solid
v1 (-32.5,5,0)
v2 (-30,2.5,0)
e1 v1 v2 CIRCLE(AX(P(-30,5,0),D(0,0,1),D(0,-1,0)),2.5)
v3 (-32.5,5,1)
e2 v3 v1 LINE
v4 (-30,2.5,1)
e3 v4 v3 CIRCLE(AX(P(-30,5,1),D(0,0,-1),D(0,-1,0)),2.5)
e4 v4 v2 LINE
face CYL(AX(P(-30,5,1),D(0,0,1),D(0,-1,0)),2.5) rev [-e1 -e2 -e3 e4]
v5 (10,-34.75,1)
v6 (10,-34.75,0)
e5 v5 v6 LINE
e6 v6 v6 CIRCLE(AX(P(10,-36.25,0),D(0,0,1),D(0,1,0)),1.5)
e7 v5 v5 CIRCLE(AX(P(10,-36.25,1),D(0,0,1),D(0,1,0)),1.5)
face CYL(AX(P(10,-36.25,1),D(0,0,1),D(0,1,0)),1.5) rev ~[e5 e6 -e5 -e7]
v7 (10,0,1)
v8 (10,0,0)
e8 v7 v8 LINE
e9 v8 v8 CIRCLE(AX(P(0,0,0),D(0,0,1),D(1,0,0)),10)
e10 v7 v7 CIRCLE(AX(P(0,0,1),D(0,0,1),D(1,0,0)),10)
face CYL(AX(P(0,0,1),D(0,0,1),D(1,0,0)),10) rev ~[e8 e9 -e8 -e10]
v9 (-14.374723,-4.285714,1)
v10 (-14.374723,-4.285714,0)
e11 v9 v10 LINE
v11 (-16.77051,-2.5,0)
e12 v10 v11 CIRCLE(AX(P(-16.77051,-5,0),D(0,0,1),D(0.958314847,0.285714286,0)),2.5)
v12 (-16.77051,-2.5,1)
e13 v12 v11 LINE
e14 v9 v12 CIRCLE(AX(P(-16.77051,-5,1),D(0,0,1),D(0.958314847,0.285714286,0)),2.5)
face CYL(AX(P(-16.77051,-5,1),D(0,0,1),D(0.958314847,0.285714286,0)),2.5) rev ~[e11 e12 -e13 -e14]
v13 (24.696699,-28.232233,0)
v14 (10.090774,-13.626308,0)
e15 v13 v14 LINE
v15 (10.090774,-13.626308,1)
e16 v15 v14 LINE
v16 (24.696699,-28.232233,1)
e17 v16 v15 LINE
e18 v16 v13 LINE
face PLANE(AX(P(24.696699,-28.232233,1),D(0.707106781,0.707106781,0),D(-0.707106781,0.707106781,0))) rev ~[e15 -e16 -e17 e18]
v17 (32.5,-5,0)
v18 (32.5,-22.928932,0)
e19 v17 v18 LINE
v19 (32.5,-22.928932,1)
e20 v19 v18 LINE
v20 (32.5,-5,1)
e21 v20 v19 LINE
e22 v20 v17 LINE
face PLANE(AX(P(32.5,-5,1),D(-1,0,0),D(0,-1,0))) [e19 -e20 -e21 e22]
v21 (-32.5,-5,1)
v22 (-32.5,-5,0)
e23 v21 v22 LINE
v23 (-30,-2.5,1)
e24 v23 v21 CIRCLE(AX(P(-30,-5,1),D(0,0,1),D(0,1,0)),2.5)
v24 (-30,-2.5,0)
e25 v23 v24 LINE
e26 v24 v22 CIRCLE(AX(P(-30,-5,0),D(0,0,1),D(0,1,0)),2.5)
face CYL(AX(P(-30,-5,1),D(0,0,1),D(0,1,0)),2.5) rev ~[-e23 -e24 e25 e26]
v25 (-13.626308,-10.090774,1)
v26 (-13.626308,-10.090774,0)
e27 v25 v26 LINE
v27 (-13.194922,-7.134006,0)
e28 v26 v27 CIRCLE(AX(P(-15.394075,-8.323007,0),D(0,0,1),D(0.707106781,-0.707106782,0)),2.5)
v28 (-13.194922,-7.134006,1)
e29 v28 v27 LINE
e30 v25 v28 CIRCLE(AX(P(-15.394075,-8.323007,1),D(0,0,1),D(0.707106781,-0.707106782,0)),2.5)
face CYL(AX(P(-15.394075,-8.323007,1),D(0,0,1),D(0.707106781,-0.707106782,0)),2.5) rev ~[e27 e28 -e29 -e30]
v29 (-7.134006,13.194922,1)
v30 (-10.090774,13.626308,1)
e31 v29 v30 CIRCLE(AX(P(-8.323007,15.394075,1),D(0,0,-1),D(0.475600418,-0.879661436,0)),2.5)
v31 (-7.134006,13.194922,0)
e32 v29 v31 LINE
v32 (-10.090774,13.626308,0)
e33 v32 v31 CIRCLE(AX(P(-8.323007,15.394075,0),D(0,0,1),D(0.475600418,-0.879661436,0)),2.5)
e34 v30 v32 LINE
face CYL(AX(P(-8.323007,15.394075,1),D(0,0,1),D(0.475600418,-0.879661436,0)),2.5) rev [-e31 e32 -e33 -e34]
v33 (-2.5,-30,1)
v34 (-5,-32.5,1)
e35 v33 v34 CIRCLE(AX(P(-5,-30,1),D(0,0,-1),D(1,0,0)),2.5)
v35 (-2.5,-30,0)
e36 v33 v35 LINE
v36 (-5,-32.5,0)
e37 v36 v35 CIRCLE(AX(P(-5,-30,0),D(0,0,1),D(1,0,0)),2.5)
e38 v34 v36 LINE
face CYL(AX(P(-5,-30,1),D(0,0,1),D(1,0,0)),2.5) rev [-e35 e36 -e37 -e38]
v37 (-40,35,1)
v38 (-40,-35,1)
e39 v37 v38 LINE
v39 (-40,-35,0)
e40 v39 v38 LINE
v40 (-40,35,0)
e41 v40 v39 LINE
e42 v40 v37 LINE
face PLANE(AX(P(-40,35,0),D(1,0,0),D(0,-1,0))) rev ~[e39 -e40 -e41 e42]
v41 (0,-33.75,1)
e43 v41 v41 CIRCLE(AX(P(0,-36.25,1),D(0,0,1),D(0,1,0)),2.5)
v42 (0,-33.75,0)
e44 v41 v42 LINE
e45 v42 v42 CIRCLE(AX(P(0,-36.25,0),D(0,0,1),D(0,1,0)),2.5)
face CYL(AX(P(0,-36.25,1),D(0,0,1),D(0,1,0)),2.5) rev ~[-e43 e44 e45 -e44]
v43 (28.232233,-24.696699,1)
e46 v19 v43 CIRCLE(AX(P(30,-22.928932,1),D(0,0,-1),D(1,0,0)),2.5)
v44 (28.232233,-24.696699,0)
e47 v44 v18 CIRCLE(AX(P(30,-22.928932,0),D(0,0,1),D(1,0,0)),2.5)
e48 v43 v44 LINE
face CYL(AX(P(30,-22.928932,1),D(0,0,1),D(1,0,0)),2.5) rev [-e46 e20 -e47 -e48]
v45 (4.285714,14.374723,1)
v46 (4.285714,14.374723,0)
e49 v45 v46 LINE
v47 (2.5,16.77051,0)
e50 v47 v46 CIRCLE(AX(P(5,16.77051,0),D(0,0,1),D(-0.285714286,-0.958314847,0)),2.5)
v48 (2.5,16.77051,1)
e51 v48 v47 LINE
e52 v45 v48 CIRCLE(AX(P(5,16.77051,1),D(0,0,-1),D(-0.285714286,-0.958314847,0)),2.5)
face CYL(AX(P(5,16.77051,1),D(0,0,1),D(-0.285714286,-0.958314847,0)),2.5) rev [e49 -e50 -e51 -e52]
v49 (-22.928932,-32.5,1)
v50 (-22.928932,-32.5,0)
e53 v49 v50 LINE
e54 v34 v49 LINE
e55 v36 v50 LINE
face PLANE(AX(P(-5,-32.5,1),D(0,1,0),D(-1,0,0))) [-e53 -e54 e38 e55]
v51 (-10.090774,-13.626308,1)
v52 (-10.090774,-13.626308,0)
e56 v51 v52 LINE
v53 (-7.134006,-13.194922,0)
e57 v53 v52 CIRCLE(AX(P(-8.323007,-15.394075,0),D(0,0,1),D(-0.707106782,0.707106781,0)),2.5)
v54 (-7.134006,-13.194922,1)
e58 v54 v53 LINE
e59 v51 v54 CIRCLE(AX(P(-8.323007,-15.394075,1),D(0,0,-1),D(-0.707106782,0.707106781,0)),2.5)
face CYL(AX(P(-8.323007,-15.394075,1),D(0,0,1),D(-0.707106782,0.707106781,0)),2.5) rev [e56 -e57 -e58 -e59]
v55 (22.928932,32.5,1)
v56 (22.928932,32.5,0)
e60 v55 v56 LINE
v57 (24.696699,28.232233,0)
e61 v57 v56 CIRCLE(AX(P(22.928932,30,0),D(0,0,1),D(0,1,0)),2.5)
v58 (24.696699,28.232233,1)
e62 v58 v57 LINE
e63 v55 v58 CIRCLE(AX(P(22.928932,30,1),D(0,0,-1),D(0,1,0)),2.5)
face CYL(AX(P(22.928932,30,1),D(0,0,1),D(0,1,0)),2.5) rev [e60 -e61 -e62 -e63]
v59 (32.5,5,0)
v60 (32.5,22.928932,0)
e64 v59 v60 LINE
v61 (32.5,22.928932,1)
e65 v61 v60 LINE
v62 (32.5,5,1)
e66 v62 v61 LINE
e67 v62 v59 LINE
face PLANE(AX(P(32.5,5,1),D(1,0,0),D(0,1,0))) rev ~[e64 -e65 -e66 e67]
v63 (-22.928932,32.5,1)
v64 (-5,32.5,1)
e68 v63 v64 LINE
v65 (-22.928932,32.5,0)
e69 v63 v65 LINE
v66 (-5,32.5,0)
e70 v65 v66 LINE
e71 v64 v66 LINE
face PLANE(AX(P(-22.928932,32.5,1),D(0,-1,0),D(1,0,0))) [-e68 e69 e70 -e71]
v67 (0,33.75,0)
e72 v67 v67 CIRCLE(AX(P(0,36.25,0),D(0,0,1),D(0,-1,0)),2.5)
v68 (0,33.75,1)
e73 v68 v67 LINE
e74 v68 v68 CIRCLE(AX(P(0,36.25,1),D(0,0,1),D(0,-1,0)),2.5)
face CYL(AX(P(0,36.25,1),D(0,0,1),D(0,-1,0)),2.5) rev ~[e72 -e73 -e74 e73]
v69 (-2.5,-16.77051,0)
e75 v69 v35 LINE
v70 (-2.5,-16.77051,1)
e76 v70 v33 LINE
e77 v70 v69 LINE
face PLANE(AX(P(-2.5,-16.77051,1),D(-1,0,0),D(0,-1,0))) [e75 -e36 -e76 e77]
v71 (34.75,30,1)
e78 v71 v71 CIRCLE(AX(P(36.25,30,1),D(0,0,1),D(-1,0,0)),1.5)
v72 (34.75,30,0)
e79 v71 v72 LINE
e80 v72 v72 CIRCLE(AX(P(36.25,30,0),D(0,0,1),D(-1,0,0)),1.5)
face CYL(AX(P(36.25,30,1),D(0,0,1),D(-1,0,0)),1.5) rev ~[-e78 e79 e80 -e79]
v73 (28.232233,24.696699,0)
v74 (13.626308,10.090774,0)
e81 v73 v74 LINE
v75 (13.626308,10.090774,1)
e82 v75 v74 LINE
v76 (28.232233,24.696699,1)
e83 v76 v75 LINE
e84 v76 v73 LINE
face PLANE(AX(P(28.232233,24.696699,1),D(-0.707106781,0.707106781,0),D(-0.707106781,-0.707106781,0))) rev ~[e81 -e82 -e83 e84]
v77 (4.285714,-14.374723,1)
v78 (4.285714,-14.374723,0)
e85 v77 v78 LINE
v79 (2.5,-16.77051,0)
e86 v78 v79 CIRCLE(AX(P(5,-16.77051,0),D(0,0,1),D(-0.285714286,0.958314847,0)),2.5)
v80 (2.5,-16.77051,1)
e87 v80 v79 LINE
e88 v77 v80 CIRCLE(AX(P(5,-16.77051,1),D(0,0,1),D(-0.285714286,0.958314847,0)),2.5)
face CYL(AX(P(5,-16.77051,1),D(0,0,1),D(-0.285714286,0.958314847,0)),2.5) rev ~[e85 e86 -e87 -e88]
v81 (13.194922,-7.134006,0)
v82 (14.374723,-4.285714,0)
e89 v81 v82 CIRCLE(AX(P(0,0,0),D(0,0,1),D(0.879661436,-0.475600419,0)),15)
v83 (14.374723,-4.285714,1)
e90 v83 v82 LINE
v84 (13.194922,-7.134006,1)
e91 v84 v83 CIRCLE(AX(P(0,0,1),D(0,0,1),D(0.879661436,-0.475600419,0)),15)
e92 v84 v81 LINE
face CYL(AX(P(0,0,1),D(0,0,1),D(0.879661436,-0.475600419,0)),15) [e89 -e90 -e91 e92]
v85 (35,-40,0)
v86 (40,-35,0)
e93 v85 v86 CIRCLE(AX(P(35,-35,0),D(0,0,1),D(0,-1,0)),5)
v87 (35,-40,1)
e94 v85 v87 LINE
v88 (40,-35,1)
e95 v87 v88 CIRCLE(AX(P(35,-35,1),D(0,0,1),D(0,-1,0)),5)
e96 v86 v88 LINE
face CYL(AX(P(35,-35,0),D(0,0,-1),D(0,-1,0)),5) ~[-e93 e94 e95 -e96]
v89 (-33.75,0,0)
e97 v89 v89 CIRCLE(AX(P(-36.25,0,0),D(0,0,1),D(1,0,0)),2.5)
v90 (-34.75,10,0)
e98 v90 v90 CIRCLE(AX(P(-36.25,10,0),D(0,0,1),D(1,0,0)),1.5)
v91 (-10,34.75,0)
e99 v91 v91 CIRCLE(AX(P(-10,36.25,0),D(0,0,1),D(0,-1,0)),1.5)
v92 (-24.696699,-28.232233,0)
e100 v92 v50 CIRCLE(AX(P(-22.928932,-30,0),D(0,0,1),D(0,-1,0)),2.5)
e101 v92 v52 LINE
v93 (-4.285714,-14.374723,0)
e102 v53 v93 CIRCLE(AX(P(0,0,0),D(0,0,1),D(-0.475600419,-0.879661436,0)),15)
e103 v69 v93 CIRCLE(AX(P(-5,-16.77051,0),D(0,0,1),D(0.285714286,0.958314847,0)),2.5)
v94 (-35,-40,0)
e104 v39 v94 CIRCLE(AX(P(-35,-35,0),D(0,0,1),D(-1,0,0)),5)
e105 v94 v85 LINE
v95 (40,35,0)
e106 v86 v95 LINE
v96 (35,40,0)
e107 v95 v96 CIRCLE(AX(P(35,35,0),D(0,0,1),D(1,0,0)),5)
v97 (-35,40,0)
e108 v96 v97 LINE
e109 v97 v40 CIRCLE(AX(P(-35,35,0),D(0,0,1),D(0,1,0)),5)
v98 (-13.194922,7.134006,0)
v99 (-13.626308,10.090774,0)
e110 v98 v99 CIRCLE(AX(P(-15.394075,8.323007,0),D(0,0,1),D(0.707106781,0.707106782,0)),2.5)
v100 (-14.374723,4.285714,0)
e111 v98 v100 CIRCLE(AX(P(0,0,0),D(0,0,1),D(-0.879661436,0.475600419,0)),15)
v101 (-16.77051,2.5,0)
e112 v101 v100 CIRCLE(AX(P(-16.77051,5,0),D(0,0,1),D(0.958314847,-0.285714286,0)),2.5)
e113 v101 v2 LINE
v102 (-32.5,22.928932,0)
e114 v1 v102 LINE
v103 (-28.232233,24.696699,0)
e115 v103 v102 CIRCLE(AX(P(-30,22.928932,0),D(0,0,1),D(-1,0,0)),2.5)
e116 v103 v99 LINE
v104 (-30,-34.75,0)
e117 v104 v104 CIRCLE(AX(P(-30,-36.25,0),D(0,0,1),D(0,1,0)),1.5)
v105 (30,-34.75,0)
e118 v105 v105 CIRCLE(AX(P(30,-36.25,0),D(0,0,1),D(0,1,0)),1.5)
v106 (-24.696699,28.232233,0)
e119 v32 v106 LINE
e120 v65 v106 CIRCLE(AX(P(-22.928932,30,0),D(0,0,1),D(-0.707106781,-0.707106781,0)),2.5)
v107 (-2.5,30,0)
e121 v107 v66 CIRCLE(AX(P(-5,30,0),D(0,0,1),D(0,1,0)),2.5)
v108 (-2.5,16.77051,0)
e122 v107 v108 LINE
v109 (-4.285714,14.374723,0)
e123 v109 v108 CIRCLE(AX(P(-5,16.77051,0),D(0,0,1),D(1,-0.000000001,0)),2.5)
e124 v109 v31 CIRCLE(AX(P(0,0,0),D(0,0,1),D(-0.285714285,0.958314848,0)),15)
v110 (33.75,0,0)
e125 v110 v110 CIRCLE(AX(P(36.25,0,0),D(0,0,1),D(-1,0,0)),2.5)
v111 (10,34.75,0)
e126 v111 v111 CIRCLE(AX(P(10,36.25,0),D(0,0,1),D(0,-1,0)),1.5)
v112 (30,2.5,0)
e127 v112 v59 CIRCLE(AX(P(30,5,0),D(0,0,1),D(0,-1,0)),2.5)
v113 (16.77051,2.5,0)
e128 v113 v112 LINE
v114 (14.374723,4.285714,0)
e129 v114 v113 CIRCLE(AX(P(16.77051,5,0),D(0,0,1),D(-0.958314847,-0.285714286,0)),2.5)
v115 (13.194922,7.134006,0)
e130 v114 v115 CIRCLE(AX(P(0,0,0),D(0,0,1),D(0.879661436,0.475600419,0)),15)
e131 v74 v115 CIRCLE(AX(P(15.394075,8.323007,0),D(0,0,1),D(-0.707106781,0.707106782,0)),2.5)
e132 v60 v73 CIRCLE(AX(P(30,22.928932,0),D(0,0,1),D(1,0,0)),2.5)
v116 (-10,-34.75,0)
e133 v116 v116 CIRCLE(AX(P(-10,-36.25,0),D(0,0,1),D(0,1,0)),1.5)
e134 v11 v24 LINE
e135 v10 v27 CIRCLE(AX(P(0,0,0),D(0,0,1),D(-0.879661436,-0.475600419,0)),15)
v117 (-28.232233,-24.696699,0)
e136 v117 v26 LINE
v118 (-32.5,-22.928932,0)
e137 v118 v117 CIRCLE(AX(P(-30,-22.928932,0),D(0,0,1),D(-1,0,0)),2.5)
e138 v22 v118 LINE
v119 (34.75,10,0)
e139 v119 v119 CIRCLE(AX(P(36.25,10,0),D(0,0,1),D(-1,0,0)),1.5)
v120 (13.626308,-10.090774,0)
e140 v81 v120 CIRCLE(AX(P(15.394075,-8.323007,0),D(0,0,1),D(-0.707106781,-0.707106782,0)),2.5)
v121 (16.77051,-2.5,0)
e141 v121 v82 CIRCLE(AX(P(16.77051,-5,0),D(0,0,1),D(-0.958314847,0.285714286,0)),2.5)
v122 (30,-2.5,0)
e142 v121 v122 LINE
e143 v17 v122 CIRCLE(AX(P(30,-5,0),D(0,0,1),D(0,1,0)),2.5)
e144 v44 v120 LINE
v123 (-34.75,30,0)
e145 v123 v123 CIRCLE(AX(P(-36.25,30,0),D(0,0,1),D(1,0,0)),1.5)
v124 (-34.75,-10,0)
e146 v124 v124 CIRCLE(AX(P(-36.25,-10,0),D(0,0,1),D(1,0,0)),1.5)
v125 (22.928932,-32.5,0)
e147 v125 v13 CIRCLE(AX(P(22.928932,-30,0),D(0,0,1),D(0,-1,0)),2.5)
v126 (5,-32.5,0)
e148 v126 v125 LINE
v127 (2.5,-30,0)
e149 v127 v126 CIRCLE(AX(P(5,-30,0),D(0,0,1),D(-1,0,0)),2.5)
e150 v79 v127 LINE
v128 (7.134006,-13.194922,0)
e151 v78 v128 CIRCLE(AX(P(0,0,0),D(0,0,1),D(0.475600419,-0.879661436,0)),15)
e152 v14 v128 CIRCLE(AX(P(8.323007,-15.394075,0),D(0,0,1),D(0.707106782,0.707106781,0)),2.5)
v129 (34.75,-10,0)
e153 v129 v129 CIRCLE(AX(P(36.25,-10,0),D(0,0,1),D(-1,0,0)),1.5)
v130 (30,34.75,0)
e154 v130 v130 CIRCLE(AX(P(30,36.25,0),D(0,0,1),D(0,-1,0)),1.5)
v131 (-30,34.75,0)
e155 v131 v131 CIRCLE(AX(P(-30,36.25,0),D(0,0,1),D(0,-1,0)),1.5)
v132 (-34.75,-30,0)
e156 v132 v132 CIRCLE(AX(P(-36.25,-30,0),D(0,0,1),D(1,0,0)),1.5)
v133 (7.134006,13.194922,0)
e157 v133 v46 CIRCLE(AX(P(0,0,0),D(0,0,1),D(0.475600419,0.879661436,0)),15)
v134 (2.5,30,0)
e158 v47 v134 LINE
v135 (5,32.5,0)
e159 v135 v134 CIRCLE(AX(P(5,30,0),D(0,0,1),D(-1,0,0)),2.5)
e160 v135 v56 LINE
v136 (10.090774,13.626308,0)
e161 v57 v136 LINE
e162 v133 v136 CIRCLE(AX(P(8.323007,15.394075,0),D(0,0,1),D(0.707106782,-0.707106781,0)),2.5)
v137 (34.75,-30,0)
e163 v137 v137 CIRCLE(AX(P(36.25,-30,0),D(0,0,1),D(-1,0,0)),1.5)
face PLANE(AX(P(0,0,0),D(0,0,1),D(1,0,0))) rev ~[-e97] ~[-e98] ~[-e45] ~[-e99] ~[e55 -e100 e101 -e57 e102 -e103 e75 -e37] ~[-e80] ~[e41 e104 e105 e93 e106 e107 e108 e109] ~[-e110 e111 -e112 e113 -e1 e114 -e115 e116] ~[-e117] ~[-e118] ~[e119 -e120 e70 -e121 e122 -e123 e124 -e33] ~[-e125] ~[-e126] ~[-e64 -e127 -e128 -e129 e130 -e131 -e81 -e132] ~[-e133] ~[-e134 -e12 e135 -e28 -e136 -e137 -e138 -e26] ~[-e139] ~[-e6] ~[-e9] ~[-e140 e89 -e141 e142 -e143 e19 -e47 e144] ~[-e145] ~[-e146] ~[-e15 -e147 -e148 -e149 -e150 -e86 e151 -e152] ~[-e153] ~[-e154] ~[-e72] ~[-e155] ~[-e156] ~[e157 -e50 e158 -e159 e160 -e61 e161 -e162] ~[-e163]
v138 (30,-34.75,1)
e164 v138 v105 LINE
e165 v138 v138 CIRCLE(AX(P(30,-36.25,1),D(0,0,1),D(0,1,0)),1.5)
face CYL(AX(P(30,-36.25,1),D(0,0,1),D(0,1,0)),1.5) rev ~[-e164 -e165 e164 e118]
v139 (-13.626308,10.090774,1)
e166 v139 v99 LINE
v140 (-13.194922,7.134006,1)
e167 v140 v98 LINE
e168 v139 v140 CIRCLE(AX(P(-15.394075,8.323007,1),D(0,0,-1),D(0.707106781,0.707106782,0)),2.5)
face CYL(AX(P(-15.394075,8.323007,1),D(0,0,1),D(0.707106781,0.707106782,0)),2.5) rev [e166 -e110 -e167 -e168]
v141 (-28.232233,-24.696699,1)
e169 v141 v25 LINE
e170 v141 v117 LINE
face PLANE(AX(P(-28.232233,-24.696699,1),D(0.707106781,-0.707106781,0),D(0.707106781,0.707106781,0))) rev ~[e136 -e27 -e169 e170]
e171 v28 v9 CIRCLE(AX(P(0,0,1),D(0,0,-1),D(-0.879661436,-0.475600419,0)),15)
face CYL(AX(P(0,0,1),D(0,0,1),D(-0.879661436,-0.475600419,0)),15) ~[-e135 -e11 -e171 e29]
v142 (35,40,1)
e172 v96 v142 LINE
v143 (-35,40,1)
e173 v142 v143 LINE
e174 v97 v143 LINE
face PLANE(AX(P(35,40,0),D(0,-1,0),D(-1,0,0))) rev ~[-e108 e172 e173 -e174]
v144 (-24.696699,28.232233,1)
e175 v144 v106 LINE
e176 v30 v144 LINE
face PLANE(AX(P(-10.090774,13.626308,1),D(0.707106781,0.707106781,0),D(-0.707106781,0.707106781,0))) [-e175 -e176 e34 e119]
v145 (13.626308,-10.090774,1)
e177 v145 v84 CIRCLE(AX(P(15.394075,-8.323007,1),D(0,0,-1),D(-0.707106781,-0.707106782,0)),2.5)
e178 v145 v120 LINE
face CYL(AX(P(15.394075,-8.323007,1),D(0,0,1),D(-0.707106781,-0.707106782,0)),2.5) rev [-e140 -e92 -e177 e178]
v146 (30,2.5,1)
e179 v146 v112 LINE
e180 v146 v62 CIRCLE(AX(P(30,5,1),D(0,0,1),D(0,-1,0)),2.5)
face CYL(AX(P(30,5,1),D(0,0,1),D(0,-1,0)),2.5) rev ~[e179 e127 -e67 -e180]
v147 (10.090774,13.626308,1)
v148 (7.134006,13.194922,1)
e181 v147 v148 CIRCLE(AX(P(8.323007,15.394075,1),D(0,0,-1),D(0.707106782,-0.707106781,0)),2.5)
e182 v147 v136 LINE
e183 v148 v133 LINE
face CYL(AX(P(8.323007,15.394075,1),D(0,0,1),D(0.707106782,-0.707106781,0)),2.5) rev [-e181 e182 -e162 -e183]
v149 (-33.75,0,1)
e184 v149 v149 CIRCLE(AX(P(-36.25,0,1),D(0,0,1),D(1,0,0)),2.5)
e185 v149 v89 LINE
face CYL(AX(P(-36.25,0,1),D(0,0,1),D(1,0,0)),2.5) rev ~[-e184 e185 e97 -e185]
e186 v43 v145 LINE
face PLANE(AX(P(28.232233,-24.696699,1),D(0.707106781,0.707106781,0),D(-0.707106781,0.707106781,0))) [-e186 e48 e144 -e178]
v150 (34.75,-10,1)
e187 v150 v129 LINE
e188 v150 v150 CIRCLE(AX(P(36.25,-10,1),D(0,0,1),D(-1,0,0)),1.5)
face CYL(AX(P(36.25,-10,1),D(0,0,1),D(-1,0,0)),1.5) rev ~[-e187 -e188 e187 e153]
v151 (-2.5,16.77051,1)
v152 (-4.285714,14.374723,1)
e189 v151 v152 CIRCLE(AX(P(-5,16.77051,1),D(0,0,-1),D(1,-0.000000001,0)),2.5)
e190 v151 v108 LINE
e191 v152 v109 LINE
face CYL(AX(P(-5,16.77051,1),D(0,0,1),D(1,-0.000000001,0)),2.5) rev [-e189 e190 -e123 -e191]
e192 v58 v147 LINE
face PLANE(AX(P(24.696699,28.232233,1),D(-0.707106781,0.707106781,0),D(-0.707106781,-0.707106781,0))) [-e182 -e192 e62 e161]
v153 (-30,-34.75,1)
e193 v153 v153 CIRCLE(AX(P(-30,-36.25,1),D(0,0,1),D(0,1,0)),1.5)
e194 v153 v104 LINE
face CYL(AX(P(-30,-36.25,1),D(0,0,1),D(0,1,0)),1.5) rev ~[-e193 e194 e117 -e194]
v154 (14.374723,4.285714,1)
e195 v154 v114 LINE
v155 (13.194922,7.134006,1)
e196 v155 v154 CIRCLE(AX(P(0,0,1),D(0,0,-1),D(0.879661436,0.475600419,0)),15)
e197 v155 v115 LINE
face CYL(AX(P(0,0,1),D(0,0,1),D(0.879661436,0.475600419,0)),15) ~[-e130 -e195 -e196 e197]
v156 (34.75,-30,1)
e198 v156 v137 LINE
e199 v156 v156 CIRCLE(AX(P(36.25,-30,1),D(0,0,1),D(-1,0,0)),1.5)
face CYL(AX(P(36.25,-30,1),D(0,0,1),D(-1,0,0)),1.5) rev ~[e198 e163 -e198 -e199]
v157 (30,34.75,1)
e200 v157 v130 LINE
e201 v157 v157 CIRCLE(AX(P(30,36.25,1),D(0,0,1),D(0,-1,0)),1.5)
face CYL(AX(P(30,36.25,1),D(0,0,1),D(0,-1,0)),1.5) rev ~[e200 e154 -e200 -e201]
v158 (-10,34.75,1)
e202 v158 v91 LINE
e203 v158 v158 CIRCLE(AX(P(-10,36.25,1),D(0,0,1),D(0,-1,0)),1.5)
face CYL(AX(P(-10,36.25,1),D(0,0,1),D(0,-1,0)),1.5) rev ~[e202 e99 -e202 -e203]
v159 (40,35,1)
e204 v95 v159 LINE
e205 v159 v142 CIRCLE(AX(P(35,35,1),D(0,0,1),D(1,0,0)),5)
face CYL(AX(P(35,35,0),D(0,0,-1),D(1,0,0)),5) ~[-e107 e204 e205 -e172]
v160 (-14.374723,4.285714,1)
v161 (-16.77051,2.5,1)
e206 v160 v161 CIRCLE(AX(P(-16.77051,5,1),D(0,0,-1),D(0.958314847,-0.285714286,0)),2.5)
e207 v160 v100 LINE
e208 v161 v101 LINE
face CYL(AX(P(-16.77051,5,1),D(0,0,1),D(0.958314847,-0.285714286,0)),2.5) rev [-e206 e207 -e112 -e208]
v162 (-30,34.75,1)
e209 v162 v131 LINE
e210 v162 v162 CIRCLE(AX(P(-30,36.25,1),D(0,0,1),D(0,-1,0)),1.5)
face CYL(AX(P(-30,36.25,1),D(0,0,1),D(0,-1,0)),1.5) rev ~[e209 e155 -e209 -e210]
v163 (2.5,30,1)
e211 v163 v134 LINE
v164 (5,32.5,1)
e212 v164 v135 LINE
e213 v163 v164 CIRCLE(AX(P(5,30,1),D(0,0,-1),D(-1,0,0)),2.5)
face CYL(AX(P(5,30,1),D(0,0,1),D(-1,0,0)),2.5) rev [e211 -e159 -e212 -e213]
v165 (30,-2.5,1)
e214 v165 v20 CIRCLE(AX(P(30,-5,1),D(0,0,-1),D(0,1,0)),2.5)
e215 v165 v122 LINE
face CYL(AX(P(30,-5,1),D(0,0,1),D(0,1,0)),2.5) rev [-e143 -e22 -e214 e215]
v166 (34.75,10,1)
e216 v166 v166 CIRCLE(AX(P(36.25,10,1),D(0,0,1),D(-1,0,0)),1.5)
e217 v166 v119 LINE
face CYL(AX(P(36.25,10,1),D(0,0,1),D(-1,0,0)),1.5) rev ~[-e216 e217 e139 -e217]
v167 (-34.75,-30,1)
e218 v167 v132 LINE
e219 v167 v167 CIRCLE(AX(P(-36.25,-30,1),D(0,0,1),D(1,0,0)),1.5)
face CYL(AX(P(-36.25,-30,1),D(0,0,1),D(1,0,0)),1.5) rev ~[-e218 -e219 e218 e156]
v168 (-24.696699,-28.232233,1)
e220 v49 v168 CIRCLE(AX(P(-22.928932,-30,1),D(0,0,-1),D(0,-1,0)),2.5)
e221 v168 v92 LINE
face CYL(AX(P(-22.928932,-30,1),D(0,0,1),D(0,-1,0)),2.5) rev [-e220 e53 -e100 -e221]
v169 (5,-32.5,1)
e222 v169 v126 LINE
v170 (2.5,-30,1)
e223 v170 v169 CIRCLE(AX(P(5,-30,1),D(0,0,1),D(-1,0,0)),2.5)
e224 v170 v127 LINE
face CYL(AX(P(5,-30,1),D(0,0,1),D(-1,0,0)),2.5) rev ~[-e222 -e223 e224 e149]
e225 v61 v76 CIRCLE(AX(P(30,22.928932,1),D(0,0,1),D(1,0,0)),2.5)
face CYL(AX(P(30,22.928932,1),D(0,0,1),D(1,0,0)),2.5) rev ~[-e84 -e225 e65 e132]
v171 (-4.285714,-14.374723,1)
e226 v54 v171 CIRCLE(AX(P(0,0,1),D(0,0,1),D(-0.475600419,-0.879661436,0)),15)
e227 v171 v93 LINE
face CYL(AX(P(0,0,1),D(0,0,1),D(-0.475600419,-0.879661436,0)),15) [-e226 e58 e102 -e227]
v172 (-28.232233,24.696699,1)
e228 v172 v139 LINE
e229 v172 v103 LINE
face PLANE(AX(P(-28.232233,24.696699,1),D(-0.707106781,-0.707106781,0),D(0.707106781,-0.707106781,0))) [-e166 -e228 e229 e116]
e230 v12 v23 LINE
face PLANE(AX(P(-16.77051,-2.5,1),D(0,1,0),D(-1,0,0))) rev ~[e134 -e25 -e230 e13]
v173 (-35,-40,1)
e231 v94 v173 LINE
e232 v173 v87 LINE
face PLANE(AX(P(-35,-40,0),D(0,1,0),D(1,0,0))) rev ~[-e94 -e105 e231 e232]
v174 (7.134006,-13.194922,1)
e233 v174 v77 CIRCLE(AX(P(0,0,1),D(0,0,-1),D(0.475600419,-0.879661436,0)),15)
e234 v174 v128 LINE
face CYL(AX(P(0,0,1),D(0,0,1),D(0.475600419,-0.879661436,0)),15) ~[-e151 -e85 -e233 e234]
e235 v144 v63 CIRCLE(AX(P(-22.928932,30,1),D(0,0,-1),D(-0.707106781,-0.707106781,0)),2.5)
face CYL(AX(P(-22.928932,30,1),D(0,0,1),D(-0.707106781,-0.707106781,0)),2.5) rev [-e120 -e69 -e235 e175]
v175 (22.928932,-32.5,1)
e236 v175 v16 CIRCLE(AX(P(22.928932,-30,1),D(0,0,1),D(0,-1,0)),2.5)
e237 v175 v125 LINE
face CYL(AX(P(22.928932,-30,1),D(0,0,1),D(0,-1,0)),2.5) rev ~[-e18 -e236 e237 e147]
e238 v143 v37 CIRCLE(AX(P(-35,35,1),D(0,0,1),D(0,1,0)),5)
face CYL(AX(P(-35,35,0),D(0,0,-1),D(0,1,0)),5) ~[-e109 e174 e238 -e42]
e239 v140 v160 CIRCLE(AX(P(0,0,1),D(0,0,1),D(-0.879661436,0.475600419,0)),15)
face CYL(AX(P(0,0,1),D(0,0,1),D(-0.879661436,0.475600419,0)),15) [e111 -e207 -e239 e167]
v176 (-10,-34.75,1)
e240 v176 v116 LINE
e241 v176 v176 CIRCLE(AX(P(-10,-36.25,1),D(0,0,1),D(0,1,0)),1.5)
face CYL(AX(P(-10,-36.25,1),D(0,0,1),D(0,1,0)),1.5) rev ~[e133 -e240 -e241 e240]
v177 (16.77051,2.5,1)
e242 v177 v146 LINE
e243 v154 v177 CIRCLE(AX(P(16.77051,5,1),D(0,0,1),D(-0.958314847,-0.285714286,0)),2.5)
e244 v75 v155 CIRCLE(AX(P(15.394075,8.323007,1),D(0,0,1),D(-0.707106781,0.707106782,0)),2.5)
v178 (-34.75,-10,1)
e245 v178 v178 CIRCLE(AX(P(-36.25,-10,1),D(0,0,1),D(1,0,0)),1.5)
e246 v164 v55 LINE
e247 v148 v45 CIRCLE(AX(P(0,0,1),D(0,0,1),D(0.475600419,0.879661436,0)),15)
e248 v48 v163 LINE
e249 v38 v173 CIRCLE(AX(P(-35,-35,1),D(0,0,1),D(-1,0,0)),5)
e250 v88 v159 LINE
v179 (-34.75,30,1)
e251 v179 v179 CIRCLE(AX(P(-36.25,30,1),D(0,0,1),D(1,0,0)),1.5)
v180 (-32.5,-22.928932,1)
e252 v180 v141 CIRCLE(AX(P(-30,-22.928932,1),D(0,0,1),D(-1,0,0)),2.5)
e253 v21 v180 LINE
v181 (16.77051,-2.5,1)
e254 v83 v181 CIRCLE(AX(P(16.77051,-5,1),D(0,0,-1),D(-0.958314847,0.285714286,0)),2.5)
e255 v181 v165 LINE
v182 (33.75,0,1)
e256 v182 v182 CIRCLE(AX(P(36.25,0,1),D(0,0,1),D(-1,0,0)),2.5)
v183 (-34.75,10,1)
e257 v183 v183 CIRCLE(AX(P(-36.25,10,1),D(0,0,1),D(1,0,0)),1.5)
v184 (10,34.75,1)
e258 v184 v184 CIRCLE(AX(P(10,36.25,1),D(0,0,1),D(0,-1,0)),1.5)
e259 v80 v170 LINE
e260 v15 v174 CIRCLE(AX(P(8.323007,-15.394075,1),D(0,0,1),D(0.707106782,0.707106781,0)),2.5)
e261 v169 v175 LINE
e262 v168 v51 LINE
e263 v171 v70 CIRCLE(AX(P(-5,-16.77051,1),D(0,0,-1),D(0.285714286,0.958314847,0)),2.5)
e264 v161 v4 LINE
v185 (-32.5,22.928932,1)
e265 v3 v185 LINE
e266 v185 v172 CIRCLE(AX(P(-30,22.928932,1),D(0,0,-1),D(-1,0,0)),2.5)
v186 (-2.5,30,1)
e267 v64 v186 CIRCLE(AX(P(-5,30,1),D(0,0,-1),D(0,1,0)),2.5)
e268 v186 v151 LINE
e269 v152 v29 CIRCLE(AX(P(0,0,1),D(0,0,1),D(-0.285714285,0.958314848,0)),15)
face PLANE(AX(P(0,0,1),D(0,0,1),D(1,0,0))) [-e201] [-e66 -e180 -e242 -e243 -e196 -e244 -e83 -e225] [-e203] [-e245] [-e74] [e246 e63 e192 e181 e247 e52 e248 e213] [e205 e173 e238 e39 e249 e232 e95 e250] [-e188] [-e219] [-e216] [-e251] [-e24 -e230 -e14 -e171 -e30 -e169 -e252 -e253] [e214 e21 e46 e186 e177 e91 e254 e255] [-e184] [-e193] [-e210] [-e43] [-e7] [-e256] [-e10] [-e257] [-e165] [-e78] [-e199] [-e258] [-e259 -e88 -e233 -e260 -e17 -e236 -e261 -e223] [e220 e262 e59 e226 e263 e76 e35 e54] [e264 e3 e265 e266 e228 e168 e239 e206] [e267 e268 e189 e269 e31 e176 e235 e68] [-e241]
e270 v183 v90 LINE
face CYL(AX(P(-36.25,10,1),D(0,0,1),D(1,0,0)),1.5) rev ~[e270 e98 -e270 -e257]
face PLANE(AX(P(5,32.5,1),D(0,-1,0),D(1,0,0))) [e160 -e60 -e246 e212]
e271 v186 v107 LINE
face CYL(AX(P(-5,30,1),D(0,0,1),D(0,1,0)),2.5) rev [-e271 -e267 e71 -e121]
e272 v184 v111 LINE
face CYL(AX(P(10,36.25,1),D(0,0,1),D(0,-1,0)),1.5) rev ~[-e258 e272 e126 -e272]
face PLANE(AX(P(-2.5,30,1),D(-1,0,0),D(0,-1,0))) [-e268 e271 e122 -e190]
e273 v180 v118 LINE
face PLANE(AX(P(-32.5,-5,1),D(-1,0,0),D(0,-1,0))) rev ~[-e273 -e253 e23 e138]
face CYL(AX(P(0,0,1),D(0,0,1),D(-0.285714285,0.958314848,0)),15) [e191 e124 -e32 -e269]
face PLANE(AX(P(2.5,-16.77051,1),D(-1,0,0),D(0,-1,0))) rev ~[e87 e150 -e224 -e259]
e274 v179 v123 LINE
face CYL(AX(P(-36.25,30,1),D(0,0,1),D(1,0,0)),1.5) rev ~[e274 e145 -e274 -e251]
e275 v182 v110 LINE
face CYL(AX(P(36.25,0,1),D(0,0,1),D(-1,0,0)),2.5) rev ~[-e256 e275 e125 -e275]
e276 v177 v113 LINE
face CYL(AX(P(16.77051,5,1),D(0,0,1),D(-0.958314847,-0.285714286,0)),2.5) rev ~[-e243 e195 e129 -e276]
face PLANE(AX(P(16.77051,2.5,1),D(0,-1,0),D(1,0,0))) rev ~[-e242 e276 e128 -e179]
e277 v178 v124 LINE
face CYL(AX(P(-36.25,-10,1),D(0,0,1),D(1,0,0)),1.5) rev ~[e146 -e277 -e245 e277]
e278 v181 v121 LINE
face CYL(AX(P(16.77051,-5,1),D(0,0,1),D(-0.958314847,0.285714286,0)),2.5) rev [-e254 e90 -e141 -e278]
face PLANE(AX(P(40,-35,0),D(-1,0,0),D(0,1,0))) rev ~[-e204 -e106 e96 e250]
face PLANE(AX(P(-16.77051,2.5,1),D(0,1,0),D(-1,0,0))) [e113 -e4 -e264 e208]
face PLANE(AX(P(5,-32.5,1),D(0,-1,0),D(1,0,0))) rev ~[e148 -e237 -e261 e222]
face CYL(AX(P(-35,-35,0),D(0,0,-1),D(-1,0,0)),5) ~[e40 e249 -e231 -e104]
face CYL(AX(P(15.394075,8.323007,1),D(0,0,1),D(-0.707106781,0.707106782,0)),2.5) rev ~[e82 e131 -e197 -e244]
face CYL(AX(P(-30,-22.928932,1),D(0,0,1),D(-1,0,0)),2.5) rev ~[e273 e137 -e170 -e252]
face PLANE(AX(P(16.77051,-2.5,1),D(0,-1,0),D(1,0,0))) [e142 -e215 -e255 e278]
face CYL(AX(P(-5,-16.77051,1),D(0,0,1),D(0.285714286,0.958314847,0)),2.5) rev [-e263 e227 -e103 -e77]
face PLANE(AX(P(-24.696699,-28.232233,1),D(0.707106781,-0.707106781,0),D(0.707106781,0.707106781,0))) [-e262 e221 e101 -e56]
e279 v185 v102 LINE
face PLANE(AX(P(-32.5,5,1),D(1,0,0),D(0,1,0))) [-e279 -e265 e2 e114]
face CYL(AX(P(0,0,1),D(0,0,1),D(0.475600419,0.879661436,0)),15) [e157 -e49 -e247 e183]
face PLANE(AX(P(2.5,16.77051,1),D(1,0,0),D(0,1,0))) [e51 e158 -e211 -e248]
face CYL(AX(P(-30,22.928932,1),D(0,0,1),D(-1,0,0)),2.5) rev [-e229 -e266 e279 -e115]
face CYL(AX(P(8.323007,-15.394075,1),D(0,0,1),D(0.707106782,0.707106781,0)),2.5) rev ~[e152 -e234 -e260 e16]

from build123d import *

# Parameters (mm, degrees)
SALIENTE_EXTRUIR1_DEPTH = 1
CROQUIS2_R              = 10
CORTAR_EXTRUIR1_DEPTH   = 57.577380639
CROQUIS3_R              = 1.5
CROQUIS3_R_2            = 2.5
CORTAR_EXTRUIR2_DEPTH   = 57.577380639
MATRIZC1_COUNT          = 4


with BuildPart() as part:
    # Croquis1 → Saliente-Extruir1 (new body)
    with BuildSketch(Plane.XY):
        with BuildLine():
            Line((-35, -40), (35, -40))
            ThreePointArc((35, -40), (38.535533906, -38.535533906), (40, -35))
            Line((40, -35), (40, 35))
            ThreePointArc((40, 35), (38.535533906, 38.535533906), (35, 40))
            Line((35, 40), (-35, 40))
            ThreePointArc((-35, 40), (-38.535533906, 38.535533906), (-40, 35))
            Line((-40, 35), (-40, -35))
            ThreePointArc((-40, -35), (-38.535533906, -38.535533906), (-35, -40))
        make_face()
    extrude(amount=SALIENTE_EXTRUIR1_DEPTH)

    # Croquis2 → Cortar-Extruir1 (cut, through all)
    with BuildSketch(Plane.XY.offset(1)):
        Circle(CROQUIS2_R)
        with BuildLine():
            Line((2.5, 16.770509831), (2.5, 30))
            ThreePointArc((2.5, 30), (3.232233047, 31.767766953), (5, 32.5))
            Line((5, 32.5), (22.928932188, 32.5))
            ThreePointArc((22.928932188, 32.5), (25.238631019, 30.956708581), (24.696699141, 28.232233047))
            Line((24.696699141, 28.232233047), (10.090774273, 13.626308179))
            ThreePointArc((10.090774273, 13.626308179), (8.683931275, 12.920265539), (7.134006274, 13.194921541))
            ThreePointArc((7.134006274, 13.194921541), (5.740251485, 13.858192988), (4.285714286, 14.374722712))
            ThreePointArc((4.285714286, 14.374722712), (2.995540686, 15.27647407), (2.5, 16.770509831))
        make_face()
        with BuildLine():
            Line((-10.090774273, 13.626308179), (-24.696699141, 28.232233047))
            ThreePointArc((-24.696699141, 28.232233047), (-25.238631019, 30.956708581), (-22.928932188, 32.5))
            Line((-22.928932188, 32.5), (-5, 32.5))
            ThreePointArc((-5, 32.5), (-3.232233047, 31.767766953), (-2.5, 30))
            Line((-2.5, 30), (-2.5, 16.770509831))
            ThreePointArc((-2.5, 16.770509831), (-2.995540686, 15.27647407), (-4.285714286, 14.374722712))
            ThreePointArc((-4.285714286, 14.374722712), (-5.740251485, 13.858192988), (-7.134006274, 13.194921541))
            ThreePointArc((-7.134006274, 13.194921541), (-8.683931275, 12.920265539), (-10.090774273, 13.626308179))
        make_face()
        with BuildLine():
            Line((32.5, 5), (32.5, 22.928932188))
            ThreePointArc((32.5, 22.928932188), (30.956708581, 25.238631019), (28.232233047, 24.696699141))
            Line((28.232233047, 24.696699141), (13.626308179, 10.090774273))
            ThreePointArc((13.626308179, 10.090774273), (12.920265539, 8.683931275), (13.194921541, 7.134006274))
            ThreePointArc((13.194921541, 7.134006274), (13.858192988, 5.740251485), (14.374722712, 4.285714286))
            ThreePointArc((14.374722712, 4.285714286), (15.27647407, 2.995540686), (16.770509831, 2.5))
            Line((16.770509831, 2.5), (30, 2.5))
            ThreePointArc((30, 2.5), (31.767766953, 3.232233047), (32.5, 5))
        make_face()
        with BuildLine():
            Line((16.770509831, -2.5), (30, -2.5))
            ThreePointArc((30, -2.5), (31.767766953, -3.232233047), (32.5, -5))
            Line((32.5, -5), (32.5, -22.928932188))
            ThreePointArc((32.5, -22.928932188), (30.956708581, -25.238631019), (28.232233047, -24.696699141))
            Line((28.232233047, -24.696699141), (13.626308179, -10.090774273))
            ThreePointArc((13.626308179, -10.090774273), (12.920265539, -8.683931275), (13.194921541, -7.134006274))
            ThreePointArc((13.194921541, -7.134006274), (13.858192988, -5.740251485), (14.374722712, -4.285714286))
            ThreePointArc((14.374722712, -4.285714286), (15.27647407, -2.995540686), (16.770509831, -2.5))
        make_face()
        with BuildLine():
            Line((5, -32.5), (22.928932188, -32.5))
            ThreePointArc((22.928932188, -32.5), (25.238631019, -30.956708581), (24.696699141, -28.232233047))
            Line((24.696699141, -28.232233047), (10.090774273, -13.626308179))
            ThreePointArc((10.090774273, -13.626308179), (8.683931275, -12.920265539), (7.134006274, -13.194921541))
            ThreePointArc((7.134006274, -13.194921541), (5.740251485, -13.858192988), (4.285714286, -14.374722712))
            ThreePointArc((4.285714286, -14.374722712), (2.995540686, -15.27647407), (2.5, -16.770509831))
            Line((2.5, -16.770509831), (2.5, -30))
            ThreePointArc((2.5, -30), (3.232233047, -31.767766953), (5, -32.5))
        make_face()
        with BuildLine():
            Line((-2.5, -16.770509831), (-2.5, -30))
            ThreePointArc((-2.5, -30), (-3.232233047, -31.767766953), (-5, -32.5))
            Line((-5, -32.5), (-22.928932188, -32.5))
            ThreePointArc((-22.928932188, -32.5), (-25.238631019, -30.956708581), (-24.696699141, -28.232233047))
            Line((-24.696699141, -28.232233047), (-10.090774273, -13.626308179))
            ThreePointArc((-10.090774273, -13.626308179), (-8.683931275, -12.920265539), (-7.134006274, -13.194921541))
            ThreePointArc((-7.134006274, -13.194921541), (-5.740251485, -13.858192988), (-4.285714286, -14.374722712))
            ThreePointArc((-4.285714286, -14.374722712), (-2.995540686, -15.27647407), (-2.5, -16.770509831))
        make_face()
        with BuildLine():
            Line((-32.5, -5), (-32.5, -22.928932188))
            ThreePointArc((-32.5, -22.928932188), (-30.956708581, -25.238631019), (-28.232233047, -24.696699141))
            Line((-28.232233047, -24.696699141), (-13.626308179, -10.090774273))
            ThreePointArc((-13.626308179, -10.090774273), (-12.920265539, -8.683931275), (-13.194921541, -7.134006274))
            ThreePointArc((-13.194921541, -7.134006274), (-13.858192988, -5.740251485), (-14.374722712, -4.285714286))
            ThreePointArc((-14.374722712, -4.285714286), (-15.27647407, -2.995540686), (-16.770509831, -2.5))
            Line((-16.770509831, -2.5), (-30, -2.5))
            ThreePointArc((-30, -2.5), (-31.767766953, -3.232233047), (-32.5, -5))
        make_face()
        with BuildLine():
            Line((-16.770509831, 2.5), (-30, 2.5))
            ThreePointArc((-30, 2.5), (-31.767766953, 3.232233047), (-32.5, 5))
            Line((-32.5, 5), (-32.5, 22.928932188))
            ThreePointArc((-32.5, 22.928932188), (-30.956708581, 25.238631019), (-28.232233047, 24.696699141))
            Line((-28.232233047, 24.696699141), (-13.626308179, 10.090774273))
            ThreePointArc((-13.626308179, 10.090774273), (-12.920265539, 8.683931275), (-13.194921541, 7.134006274))
            ThreePointArc((-13.194921541, 7.134006274), (-13.858192988, 5.740251485), (-14.374722712, 4.285714286))
            ThreePointArc((-14.374722712, 4.285714286), (-15.27647407, 2.995540686), (-16.770509831, 2.5))
        make_face()
    extrude(amount=-CORTAR_EXTRUIR1_DEPTH, mode=Mode.SUBTRACT)

    # Croquis3 → Cortar-Extruir2 (cut, through all)
    with BuildSketch(Plane.XY.offset(1)):
        with Locations((-36.25, 30)):
            Circle(CROQUIS3_R)
        with Locations((-36.25, 10)):
            Circle(CROQUIS3_R)
        with Locations((-36.25, -10)):
            Circle(CROQUIS3_R)
        with Locations((-36.25, -30)):
            Circle(CROQUIS3_R)
        with Locations(Location((36.25, -30, 0), (0, 0, 180))):
            Circle(CROQUIS3_R)
        with Locations(Location((36.25, -10, 0), (0, 0, 180))):
            Circle(CROQUIS3_R)
        with Locations(Location((36.25, 10, 0), (0, 0, 180))):
            Circle(CROQUIS3_R)
        with Locations(Location((36.25, 30, 0), (0, 0, 180))):
            Circle(CROQUIS3_R)
        with Locations((-36.25, 0)):
            Circle(CROQUIS3_R_2)
        with Locations(Location((36.25, 0, 0), (0, 0, 180))):
            Circle(CROQUIS3_R_2)
    cortar_extruir2 = extrude(amount=-CORTAR_EXTRUIR2_DEPTH, mode=Mode.SUBTRACT)

    # MatrizC1: Cortar-Extruir2 ×4 about axis
    matrizc1_axis = Axis((0, 0, 0), (0, 0, 1))
    for i in range(1, MATRIZC1_COUNT):
        add(cortar_extruir2.rotate(matrizc1_axis, i * 360 / MATRIZC1_COUNT), mode=Mode.SUBTRACT)


solid = part.part
